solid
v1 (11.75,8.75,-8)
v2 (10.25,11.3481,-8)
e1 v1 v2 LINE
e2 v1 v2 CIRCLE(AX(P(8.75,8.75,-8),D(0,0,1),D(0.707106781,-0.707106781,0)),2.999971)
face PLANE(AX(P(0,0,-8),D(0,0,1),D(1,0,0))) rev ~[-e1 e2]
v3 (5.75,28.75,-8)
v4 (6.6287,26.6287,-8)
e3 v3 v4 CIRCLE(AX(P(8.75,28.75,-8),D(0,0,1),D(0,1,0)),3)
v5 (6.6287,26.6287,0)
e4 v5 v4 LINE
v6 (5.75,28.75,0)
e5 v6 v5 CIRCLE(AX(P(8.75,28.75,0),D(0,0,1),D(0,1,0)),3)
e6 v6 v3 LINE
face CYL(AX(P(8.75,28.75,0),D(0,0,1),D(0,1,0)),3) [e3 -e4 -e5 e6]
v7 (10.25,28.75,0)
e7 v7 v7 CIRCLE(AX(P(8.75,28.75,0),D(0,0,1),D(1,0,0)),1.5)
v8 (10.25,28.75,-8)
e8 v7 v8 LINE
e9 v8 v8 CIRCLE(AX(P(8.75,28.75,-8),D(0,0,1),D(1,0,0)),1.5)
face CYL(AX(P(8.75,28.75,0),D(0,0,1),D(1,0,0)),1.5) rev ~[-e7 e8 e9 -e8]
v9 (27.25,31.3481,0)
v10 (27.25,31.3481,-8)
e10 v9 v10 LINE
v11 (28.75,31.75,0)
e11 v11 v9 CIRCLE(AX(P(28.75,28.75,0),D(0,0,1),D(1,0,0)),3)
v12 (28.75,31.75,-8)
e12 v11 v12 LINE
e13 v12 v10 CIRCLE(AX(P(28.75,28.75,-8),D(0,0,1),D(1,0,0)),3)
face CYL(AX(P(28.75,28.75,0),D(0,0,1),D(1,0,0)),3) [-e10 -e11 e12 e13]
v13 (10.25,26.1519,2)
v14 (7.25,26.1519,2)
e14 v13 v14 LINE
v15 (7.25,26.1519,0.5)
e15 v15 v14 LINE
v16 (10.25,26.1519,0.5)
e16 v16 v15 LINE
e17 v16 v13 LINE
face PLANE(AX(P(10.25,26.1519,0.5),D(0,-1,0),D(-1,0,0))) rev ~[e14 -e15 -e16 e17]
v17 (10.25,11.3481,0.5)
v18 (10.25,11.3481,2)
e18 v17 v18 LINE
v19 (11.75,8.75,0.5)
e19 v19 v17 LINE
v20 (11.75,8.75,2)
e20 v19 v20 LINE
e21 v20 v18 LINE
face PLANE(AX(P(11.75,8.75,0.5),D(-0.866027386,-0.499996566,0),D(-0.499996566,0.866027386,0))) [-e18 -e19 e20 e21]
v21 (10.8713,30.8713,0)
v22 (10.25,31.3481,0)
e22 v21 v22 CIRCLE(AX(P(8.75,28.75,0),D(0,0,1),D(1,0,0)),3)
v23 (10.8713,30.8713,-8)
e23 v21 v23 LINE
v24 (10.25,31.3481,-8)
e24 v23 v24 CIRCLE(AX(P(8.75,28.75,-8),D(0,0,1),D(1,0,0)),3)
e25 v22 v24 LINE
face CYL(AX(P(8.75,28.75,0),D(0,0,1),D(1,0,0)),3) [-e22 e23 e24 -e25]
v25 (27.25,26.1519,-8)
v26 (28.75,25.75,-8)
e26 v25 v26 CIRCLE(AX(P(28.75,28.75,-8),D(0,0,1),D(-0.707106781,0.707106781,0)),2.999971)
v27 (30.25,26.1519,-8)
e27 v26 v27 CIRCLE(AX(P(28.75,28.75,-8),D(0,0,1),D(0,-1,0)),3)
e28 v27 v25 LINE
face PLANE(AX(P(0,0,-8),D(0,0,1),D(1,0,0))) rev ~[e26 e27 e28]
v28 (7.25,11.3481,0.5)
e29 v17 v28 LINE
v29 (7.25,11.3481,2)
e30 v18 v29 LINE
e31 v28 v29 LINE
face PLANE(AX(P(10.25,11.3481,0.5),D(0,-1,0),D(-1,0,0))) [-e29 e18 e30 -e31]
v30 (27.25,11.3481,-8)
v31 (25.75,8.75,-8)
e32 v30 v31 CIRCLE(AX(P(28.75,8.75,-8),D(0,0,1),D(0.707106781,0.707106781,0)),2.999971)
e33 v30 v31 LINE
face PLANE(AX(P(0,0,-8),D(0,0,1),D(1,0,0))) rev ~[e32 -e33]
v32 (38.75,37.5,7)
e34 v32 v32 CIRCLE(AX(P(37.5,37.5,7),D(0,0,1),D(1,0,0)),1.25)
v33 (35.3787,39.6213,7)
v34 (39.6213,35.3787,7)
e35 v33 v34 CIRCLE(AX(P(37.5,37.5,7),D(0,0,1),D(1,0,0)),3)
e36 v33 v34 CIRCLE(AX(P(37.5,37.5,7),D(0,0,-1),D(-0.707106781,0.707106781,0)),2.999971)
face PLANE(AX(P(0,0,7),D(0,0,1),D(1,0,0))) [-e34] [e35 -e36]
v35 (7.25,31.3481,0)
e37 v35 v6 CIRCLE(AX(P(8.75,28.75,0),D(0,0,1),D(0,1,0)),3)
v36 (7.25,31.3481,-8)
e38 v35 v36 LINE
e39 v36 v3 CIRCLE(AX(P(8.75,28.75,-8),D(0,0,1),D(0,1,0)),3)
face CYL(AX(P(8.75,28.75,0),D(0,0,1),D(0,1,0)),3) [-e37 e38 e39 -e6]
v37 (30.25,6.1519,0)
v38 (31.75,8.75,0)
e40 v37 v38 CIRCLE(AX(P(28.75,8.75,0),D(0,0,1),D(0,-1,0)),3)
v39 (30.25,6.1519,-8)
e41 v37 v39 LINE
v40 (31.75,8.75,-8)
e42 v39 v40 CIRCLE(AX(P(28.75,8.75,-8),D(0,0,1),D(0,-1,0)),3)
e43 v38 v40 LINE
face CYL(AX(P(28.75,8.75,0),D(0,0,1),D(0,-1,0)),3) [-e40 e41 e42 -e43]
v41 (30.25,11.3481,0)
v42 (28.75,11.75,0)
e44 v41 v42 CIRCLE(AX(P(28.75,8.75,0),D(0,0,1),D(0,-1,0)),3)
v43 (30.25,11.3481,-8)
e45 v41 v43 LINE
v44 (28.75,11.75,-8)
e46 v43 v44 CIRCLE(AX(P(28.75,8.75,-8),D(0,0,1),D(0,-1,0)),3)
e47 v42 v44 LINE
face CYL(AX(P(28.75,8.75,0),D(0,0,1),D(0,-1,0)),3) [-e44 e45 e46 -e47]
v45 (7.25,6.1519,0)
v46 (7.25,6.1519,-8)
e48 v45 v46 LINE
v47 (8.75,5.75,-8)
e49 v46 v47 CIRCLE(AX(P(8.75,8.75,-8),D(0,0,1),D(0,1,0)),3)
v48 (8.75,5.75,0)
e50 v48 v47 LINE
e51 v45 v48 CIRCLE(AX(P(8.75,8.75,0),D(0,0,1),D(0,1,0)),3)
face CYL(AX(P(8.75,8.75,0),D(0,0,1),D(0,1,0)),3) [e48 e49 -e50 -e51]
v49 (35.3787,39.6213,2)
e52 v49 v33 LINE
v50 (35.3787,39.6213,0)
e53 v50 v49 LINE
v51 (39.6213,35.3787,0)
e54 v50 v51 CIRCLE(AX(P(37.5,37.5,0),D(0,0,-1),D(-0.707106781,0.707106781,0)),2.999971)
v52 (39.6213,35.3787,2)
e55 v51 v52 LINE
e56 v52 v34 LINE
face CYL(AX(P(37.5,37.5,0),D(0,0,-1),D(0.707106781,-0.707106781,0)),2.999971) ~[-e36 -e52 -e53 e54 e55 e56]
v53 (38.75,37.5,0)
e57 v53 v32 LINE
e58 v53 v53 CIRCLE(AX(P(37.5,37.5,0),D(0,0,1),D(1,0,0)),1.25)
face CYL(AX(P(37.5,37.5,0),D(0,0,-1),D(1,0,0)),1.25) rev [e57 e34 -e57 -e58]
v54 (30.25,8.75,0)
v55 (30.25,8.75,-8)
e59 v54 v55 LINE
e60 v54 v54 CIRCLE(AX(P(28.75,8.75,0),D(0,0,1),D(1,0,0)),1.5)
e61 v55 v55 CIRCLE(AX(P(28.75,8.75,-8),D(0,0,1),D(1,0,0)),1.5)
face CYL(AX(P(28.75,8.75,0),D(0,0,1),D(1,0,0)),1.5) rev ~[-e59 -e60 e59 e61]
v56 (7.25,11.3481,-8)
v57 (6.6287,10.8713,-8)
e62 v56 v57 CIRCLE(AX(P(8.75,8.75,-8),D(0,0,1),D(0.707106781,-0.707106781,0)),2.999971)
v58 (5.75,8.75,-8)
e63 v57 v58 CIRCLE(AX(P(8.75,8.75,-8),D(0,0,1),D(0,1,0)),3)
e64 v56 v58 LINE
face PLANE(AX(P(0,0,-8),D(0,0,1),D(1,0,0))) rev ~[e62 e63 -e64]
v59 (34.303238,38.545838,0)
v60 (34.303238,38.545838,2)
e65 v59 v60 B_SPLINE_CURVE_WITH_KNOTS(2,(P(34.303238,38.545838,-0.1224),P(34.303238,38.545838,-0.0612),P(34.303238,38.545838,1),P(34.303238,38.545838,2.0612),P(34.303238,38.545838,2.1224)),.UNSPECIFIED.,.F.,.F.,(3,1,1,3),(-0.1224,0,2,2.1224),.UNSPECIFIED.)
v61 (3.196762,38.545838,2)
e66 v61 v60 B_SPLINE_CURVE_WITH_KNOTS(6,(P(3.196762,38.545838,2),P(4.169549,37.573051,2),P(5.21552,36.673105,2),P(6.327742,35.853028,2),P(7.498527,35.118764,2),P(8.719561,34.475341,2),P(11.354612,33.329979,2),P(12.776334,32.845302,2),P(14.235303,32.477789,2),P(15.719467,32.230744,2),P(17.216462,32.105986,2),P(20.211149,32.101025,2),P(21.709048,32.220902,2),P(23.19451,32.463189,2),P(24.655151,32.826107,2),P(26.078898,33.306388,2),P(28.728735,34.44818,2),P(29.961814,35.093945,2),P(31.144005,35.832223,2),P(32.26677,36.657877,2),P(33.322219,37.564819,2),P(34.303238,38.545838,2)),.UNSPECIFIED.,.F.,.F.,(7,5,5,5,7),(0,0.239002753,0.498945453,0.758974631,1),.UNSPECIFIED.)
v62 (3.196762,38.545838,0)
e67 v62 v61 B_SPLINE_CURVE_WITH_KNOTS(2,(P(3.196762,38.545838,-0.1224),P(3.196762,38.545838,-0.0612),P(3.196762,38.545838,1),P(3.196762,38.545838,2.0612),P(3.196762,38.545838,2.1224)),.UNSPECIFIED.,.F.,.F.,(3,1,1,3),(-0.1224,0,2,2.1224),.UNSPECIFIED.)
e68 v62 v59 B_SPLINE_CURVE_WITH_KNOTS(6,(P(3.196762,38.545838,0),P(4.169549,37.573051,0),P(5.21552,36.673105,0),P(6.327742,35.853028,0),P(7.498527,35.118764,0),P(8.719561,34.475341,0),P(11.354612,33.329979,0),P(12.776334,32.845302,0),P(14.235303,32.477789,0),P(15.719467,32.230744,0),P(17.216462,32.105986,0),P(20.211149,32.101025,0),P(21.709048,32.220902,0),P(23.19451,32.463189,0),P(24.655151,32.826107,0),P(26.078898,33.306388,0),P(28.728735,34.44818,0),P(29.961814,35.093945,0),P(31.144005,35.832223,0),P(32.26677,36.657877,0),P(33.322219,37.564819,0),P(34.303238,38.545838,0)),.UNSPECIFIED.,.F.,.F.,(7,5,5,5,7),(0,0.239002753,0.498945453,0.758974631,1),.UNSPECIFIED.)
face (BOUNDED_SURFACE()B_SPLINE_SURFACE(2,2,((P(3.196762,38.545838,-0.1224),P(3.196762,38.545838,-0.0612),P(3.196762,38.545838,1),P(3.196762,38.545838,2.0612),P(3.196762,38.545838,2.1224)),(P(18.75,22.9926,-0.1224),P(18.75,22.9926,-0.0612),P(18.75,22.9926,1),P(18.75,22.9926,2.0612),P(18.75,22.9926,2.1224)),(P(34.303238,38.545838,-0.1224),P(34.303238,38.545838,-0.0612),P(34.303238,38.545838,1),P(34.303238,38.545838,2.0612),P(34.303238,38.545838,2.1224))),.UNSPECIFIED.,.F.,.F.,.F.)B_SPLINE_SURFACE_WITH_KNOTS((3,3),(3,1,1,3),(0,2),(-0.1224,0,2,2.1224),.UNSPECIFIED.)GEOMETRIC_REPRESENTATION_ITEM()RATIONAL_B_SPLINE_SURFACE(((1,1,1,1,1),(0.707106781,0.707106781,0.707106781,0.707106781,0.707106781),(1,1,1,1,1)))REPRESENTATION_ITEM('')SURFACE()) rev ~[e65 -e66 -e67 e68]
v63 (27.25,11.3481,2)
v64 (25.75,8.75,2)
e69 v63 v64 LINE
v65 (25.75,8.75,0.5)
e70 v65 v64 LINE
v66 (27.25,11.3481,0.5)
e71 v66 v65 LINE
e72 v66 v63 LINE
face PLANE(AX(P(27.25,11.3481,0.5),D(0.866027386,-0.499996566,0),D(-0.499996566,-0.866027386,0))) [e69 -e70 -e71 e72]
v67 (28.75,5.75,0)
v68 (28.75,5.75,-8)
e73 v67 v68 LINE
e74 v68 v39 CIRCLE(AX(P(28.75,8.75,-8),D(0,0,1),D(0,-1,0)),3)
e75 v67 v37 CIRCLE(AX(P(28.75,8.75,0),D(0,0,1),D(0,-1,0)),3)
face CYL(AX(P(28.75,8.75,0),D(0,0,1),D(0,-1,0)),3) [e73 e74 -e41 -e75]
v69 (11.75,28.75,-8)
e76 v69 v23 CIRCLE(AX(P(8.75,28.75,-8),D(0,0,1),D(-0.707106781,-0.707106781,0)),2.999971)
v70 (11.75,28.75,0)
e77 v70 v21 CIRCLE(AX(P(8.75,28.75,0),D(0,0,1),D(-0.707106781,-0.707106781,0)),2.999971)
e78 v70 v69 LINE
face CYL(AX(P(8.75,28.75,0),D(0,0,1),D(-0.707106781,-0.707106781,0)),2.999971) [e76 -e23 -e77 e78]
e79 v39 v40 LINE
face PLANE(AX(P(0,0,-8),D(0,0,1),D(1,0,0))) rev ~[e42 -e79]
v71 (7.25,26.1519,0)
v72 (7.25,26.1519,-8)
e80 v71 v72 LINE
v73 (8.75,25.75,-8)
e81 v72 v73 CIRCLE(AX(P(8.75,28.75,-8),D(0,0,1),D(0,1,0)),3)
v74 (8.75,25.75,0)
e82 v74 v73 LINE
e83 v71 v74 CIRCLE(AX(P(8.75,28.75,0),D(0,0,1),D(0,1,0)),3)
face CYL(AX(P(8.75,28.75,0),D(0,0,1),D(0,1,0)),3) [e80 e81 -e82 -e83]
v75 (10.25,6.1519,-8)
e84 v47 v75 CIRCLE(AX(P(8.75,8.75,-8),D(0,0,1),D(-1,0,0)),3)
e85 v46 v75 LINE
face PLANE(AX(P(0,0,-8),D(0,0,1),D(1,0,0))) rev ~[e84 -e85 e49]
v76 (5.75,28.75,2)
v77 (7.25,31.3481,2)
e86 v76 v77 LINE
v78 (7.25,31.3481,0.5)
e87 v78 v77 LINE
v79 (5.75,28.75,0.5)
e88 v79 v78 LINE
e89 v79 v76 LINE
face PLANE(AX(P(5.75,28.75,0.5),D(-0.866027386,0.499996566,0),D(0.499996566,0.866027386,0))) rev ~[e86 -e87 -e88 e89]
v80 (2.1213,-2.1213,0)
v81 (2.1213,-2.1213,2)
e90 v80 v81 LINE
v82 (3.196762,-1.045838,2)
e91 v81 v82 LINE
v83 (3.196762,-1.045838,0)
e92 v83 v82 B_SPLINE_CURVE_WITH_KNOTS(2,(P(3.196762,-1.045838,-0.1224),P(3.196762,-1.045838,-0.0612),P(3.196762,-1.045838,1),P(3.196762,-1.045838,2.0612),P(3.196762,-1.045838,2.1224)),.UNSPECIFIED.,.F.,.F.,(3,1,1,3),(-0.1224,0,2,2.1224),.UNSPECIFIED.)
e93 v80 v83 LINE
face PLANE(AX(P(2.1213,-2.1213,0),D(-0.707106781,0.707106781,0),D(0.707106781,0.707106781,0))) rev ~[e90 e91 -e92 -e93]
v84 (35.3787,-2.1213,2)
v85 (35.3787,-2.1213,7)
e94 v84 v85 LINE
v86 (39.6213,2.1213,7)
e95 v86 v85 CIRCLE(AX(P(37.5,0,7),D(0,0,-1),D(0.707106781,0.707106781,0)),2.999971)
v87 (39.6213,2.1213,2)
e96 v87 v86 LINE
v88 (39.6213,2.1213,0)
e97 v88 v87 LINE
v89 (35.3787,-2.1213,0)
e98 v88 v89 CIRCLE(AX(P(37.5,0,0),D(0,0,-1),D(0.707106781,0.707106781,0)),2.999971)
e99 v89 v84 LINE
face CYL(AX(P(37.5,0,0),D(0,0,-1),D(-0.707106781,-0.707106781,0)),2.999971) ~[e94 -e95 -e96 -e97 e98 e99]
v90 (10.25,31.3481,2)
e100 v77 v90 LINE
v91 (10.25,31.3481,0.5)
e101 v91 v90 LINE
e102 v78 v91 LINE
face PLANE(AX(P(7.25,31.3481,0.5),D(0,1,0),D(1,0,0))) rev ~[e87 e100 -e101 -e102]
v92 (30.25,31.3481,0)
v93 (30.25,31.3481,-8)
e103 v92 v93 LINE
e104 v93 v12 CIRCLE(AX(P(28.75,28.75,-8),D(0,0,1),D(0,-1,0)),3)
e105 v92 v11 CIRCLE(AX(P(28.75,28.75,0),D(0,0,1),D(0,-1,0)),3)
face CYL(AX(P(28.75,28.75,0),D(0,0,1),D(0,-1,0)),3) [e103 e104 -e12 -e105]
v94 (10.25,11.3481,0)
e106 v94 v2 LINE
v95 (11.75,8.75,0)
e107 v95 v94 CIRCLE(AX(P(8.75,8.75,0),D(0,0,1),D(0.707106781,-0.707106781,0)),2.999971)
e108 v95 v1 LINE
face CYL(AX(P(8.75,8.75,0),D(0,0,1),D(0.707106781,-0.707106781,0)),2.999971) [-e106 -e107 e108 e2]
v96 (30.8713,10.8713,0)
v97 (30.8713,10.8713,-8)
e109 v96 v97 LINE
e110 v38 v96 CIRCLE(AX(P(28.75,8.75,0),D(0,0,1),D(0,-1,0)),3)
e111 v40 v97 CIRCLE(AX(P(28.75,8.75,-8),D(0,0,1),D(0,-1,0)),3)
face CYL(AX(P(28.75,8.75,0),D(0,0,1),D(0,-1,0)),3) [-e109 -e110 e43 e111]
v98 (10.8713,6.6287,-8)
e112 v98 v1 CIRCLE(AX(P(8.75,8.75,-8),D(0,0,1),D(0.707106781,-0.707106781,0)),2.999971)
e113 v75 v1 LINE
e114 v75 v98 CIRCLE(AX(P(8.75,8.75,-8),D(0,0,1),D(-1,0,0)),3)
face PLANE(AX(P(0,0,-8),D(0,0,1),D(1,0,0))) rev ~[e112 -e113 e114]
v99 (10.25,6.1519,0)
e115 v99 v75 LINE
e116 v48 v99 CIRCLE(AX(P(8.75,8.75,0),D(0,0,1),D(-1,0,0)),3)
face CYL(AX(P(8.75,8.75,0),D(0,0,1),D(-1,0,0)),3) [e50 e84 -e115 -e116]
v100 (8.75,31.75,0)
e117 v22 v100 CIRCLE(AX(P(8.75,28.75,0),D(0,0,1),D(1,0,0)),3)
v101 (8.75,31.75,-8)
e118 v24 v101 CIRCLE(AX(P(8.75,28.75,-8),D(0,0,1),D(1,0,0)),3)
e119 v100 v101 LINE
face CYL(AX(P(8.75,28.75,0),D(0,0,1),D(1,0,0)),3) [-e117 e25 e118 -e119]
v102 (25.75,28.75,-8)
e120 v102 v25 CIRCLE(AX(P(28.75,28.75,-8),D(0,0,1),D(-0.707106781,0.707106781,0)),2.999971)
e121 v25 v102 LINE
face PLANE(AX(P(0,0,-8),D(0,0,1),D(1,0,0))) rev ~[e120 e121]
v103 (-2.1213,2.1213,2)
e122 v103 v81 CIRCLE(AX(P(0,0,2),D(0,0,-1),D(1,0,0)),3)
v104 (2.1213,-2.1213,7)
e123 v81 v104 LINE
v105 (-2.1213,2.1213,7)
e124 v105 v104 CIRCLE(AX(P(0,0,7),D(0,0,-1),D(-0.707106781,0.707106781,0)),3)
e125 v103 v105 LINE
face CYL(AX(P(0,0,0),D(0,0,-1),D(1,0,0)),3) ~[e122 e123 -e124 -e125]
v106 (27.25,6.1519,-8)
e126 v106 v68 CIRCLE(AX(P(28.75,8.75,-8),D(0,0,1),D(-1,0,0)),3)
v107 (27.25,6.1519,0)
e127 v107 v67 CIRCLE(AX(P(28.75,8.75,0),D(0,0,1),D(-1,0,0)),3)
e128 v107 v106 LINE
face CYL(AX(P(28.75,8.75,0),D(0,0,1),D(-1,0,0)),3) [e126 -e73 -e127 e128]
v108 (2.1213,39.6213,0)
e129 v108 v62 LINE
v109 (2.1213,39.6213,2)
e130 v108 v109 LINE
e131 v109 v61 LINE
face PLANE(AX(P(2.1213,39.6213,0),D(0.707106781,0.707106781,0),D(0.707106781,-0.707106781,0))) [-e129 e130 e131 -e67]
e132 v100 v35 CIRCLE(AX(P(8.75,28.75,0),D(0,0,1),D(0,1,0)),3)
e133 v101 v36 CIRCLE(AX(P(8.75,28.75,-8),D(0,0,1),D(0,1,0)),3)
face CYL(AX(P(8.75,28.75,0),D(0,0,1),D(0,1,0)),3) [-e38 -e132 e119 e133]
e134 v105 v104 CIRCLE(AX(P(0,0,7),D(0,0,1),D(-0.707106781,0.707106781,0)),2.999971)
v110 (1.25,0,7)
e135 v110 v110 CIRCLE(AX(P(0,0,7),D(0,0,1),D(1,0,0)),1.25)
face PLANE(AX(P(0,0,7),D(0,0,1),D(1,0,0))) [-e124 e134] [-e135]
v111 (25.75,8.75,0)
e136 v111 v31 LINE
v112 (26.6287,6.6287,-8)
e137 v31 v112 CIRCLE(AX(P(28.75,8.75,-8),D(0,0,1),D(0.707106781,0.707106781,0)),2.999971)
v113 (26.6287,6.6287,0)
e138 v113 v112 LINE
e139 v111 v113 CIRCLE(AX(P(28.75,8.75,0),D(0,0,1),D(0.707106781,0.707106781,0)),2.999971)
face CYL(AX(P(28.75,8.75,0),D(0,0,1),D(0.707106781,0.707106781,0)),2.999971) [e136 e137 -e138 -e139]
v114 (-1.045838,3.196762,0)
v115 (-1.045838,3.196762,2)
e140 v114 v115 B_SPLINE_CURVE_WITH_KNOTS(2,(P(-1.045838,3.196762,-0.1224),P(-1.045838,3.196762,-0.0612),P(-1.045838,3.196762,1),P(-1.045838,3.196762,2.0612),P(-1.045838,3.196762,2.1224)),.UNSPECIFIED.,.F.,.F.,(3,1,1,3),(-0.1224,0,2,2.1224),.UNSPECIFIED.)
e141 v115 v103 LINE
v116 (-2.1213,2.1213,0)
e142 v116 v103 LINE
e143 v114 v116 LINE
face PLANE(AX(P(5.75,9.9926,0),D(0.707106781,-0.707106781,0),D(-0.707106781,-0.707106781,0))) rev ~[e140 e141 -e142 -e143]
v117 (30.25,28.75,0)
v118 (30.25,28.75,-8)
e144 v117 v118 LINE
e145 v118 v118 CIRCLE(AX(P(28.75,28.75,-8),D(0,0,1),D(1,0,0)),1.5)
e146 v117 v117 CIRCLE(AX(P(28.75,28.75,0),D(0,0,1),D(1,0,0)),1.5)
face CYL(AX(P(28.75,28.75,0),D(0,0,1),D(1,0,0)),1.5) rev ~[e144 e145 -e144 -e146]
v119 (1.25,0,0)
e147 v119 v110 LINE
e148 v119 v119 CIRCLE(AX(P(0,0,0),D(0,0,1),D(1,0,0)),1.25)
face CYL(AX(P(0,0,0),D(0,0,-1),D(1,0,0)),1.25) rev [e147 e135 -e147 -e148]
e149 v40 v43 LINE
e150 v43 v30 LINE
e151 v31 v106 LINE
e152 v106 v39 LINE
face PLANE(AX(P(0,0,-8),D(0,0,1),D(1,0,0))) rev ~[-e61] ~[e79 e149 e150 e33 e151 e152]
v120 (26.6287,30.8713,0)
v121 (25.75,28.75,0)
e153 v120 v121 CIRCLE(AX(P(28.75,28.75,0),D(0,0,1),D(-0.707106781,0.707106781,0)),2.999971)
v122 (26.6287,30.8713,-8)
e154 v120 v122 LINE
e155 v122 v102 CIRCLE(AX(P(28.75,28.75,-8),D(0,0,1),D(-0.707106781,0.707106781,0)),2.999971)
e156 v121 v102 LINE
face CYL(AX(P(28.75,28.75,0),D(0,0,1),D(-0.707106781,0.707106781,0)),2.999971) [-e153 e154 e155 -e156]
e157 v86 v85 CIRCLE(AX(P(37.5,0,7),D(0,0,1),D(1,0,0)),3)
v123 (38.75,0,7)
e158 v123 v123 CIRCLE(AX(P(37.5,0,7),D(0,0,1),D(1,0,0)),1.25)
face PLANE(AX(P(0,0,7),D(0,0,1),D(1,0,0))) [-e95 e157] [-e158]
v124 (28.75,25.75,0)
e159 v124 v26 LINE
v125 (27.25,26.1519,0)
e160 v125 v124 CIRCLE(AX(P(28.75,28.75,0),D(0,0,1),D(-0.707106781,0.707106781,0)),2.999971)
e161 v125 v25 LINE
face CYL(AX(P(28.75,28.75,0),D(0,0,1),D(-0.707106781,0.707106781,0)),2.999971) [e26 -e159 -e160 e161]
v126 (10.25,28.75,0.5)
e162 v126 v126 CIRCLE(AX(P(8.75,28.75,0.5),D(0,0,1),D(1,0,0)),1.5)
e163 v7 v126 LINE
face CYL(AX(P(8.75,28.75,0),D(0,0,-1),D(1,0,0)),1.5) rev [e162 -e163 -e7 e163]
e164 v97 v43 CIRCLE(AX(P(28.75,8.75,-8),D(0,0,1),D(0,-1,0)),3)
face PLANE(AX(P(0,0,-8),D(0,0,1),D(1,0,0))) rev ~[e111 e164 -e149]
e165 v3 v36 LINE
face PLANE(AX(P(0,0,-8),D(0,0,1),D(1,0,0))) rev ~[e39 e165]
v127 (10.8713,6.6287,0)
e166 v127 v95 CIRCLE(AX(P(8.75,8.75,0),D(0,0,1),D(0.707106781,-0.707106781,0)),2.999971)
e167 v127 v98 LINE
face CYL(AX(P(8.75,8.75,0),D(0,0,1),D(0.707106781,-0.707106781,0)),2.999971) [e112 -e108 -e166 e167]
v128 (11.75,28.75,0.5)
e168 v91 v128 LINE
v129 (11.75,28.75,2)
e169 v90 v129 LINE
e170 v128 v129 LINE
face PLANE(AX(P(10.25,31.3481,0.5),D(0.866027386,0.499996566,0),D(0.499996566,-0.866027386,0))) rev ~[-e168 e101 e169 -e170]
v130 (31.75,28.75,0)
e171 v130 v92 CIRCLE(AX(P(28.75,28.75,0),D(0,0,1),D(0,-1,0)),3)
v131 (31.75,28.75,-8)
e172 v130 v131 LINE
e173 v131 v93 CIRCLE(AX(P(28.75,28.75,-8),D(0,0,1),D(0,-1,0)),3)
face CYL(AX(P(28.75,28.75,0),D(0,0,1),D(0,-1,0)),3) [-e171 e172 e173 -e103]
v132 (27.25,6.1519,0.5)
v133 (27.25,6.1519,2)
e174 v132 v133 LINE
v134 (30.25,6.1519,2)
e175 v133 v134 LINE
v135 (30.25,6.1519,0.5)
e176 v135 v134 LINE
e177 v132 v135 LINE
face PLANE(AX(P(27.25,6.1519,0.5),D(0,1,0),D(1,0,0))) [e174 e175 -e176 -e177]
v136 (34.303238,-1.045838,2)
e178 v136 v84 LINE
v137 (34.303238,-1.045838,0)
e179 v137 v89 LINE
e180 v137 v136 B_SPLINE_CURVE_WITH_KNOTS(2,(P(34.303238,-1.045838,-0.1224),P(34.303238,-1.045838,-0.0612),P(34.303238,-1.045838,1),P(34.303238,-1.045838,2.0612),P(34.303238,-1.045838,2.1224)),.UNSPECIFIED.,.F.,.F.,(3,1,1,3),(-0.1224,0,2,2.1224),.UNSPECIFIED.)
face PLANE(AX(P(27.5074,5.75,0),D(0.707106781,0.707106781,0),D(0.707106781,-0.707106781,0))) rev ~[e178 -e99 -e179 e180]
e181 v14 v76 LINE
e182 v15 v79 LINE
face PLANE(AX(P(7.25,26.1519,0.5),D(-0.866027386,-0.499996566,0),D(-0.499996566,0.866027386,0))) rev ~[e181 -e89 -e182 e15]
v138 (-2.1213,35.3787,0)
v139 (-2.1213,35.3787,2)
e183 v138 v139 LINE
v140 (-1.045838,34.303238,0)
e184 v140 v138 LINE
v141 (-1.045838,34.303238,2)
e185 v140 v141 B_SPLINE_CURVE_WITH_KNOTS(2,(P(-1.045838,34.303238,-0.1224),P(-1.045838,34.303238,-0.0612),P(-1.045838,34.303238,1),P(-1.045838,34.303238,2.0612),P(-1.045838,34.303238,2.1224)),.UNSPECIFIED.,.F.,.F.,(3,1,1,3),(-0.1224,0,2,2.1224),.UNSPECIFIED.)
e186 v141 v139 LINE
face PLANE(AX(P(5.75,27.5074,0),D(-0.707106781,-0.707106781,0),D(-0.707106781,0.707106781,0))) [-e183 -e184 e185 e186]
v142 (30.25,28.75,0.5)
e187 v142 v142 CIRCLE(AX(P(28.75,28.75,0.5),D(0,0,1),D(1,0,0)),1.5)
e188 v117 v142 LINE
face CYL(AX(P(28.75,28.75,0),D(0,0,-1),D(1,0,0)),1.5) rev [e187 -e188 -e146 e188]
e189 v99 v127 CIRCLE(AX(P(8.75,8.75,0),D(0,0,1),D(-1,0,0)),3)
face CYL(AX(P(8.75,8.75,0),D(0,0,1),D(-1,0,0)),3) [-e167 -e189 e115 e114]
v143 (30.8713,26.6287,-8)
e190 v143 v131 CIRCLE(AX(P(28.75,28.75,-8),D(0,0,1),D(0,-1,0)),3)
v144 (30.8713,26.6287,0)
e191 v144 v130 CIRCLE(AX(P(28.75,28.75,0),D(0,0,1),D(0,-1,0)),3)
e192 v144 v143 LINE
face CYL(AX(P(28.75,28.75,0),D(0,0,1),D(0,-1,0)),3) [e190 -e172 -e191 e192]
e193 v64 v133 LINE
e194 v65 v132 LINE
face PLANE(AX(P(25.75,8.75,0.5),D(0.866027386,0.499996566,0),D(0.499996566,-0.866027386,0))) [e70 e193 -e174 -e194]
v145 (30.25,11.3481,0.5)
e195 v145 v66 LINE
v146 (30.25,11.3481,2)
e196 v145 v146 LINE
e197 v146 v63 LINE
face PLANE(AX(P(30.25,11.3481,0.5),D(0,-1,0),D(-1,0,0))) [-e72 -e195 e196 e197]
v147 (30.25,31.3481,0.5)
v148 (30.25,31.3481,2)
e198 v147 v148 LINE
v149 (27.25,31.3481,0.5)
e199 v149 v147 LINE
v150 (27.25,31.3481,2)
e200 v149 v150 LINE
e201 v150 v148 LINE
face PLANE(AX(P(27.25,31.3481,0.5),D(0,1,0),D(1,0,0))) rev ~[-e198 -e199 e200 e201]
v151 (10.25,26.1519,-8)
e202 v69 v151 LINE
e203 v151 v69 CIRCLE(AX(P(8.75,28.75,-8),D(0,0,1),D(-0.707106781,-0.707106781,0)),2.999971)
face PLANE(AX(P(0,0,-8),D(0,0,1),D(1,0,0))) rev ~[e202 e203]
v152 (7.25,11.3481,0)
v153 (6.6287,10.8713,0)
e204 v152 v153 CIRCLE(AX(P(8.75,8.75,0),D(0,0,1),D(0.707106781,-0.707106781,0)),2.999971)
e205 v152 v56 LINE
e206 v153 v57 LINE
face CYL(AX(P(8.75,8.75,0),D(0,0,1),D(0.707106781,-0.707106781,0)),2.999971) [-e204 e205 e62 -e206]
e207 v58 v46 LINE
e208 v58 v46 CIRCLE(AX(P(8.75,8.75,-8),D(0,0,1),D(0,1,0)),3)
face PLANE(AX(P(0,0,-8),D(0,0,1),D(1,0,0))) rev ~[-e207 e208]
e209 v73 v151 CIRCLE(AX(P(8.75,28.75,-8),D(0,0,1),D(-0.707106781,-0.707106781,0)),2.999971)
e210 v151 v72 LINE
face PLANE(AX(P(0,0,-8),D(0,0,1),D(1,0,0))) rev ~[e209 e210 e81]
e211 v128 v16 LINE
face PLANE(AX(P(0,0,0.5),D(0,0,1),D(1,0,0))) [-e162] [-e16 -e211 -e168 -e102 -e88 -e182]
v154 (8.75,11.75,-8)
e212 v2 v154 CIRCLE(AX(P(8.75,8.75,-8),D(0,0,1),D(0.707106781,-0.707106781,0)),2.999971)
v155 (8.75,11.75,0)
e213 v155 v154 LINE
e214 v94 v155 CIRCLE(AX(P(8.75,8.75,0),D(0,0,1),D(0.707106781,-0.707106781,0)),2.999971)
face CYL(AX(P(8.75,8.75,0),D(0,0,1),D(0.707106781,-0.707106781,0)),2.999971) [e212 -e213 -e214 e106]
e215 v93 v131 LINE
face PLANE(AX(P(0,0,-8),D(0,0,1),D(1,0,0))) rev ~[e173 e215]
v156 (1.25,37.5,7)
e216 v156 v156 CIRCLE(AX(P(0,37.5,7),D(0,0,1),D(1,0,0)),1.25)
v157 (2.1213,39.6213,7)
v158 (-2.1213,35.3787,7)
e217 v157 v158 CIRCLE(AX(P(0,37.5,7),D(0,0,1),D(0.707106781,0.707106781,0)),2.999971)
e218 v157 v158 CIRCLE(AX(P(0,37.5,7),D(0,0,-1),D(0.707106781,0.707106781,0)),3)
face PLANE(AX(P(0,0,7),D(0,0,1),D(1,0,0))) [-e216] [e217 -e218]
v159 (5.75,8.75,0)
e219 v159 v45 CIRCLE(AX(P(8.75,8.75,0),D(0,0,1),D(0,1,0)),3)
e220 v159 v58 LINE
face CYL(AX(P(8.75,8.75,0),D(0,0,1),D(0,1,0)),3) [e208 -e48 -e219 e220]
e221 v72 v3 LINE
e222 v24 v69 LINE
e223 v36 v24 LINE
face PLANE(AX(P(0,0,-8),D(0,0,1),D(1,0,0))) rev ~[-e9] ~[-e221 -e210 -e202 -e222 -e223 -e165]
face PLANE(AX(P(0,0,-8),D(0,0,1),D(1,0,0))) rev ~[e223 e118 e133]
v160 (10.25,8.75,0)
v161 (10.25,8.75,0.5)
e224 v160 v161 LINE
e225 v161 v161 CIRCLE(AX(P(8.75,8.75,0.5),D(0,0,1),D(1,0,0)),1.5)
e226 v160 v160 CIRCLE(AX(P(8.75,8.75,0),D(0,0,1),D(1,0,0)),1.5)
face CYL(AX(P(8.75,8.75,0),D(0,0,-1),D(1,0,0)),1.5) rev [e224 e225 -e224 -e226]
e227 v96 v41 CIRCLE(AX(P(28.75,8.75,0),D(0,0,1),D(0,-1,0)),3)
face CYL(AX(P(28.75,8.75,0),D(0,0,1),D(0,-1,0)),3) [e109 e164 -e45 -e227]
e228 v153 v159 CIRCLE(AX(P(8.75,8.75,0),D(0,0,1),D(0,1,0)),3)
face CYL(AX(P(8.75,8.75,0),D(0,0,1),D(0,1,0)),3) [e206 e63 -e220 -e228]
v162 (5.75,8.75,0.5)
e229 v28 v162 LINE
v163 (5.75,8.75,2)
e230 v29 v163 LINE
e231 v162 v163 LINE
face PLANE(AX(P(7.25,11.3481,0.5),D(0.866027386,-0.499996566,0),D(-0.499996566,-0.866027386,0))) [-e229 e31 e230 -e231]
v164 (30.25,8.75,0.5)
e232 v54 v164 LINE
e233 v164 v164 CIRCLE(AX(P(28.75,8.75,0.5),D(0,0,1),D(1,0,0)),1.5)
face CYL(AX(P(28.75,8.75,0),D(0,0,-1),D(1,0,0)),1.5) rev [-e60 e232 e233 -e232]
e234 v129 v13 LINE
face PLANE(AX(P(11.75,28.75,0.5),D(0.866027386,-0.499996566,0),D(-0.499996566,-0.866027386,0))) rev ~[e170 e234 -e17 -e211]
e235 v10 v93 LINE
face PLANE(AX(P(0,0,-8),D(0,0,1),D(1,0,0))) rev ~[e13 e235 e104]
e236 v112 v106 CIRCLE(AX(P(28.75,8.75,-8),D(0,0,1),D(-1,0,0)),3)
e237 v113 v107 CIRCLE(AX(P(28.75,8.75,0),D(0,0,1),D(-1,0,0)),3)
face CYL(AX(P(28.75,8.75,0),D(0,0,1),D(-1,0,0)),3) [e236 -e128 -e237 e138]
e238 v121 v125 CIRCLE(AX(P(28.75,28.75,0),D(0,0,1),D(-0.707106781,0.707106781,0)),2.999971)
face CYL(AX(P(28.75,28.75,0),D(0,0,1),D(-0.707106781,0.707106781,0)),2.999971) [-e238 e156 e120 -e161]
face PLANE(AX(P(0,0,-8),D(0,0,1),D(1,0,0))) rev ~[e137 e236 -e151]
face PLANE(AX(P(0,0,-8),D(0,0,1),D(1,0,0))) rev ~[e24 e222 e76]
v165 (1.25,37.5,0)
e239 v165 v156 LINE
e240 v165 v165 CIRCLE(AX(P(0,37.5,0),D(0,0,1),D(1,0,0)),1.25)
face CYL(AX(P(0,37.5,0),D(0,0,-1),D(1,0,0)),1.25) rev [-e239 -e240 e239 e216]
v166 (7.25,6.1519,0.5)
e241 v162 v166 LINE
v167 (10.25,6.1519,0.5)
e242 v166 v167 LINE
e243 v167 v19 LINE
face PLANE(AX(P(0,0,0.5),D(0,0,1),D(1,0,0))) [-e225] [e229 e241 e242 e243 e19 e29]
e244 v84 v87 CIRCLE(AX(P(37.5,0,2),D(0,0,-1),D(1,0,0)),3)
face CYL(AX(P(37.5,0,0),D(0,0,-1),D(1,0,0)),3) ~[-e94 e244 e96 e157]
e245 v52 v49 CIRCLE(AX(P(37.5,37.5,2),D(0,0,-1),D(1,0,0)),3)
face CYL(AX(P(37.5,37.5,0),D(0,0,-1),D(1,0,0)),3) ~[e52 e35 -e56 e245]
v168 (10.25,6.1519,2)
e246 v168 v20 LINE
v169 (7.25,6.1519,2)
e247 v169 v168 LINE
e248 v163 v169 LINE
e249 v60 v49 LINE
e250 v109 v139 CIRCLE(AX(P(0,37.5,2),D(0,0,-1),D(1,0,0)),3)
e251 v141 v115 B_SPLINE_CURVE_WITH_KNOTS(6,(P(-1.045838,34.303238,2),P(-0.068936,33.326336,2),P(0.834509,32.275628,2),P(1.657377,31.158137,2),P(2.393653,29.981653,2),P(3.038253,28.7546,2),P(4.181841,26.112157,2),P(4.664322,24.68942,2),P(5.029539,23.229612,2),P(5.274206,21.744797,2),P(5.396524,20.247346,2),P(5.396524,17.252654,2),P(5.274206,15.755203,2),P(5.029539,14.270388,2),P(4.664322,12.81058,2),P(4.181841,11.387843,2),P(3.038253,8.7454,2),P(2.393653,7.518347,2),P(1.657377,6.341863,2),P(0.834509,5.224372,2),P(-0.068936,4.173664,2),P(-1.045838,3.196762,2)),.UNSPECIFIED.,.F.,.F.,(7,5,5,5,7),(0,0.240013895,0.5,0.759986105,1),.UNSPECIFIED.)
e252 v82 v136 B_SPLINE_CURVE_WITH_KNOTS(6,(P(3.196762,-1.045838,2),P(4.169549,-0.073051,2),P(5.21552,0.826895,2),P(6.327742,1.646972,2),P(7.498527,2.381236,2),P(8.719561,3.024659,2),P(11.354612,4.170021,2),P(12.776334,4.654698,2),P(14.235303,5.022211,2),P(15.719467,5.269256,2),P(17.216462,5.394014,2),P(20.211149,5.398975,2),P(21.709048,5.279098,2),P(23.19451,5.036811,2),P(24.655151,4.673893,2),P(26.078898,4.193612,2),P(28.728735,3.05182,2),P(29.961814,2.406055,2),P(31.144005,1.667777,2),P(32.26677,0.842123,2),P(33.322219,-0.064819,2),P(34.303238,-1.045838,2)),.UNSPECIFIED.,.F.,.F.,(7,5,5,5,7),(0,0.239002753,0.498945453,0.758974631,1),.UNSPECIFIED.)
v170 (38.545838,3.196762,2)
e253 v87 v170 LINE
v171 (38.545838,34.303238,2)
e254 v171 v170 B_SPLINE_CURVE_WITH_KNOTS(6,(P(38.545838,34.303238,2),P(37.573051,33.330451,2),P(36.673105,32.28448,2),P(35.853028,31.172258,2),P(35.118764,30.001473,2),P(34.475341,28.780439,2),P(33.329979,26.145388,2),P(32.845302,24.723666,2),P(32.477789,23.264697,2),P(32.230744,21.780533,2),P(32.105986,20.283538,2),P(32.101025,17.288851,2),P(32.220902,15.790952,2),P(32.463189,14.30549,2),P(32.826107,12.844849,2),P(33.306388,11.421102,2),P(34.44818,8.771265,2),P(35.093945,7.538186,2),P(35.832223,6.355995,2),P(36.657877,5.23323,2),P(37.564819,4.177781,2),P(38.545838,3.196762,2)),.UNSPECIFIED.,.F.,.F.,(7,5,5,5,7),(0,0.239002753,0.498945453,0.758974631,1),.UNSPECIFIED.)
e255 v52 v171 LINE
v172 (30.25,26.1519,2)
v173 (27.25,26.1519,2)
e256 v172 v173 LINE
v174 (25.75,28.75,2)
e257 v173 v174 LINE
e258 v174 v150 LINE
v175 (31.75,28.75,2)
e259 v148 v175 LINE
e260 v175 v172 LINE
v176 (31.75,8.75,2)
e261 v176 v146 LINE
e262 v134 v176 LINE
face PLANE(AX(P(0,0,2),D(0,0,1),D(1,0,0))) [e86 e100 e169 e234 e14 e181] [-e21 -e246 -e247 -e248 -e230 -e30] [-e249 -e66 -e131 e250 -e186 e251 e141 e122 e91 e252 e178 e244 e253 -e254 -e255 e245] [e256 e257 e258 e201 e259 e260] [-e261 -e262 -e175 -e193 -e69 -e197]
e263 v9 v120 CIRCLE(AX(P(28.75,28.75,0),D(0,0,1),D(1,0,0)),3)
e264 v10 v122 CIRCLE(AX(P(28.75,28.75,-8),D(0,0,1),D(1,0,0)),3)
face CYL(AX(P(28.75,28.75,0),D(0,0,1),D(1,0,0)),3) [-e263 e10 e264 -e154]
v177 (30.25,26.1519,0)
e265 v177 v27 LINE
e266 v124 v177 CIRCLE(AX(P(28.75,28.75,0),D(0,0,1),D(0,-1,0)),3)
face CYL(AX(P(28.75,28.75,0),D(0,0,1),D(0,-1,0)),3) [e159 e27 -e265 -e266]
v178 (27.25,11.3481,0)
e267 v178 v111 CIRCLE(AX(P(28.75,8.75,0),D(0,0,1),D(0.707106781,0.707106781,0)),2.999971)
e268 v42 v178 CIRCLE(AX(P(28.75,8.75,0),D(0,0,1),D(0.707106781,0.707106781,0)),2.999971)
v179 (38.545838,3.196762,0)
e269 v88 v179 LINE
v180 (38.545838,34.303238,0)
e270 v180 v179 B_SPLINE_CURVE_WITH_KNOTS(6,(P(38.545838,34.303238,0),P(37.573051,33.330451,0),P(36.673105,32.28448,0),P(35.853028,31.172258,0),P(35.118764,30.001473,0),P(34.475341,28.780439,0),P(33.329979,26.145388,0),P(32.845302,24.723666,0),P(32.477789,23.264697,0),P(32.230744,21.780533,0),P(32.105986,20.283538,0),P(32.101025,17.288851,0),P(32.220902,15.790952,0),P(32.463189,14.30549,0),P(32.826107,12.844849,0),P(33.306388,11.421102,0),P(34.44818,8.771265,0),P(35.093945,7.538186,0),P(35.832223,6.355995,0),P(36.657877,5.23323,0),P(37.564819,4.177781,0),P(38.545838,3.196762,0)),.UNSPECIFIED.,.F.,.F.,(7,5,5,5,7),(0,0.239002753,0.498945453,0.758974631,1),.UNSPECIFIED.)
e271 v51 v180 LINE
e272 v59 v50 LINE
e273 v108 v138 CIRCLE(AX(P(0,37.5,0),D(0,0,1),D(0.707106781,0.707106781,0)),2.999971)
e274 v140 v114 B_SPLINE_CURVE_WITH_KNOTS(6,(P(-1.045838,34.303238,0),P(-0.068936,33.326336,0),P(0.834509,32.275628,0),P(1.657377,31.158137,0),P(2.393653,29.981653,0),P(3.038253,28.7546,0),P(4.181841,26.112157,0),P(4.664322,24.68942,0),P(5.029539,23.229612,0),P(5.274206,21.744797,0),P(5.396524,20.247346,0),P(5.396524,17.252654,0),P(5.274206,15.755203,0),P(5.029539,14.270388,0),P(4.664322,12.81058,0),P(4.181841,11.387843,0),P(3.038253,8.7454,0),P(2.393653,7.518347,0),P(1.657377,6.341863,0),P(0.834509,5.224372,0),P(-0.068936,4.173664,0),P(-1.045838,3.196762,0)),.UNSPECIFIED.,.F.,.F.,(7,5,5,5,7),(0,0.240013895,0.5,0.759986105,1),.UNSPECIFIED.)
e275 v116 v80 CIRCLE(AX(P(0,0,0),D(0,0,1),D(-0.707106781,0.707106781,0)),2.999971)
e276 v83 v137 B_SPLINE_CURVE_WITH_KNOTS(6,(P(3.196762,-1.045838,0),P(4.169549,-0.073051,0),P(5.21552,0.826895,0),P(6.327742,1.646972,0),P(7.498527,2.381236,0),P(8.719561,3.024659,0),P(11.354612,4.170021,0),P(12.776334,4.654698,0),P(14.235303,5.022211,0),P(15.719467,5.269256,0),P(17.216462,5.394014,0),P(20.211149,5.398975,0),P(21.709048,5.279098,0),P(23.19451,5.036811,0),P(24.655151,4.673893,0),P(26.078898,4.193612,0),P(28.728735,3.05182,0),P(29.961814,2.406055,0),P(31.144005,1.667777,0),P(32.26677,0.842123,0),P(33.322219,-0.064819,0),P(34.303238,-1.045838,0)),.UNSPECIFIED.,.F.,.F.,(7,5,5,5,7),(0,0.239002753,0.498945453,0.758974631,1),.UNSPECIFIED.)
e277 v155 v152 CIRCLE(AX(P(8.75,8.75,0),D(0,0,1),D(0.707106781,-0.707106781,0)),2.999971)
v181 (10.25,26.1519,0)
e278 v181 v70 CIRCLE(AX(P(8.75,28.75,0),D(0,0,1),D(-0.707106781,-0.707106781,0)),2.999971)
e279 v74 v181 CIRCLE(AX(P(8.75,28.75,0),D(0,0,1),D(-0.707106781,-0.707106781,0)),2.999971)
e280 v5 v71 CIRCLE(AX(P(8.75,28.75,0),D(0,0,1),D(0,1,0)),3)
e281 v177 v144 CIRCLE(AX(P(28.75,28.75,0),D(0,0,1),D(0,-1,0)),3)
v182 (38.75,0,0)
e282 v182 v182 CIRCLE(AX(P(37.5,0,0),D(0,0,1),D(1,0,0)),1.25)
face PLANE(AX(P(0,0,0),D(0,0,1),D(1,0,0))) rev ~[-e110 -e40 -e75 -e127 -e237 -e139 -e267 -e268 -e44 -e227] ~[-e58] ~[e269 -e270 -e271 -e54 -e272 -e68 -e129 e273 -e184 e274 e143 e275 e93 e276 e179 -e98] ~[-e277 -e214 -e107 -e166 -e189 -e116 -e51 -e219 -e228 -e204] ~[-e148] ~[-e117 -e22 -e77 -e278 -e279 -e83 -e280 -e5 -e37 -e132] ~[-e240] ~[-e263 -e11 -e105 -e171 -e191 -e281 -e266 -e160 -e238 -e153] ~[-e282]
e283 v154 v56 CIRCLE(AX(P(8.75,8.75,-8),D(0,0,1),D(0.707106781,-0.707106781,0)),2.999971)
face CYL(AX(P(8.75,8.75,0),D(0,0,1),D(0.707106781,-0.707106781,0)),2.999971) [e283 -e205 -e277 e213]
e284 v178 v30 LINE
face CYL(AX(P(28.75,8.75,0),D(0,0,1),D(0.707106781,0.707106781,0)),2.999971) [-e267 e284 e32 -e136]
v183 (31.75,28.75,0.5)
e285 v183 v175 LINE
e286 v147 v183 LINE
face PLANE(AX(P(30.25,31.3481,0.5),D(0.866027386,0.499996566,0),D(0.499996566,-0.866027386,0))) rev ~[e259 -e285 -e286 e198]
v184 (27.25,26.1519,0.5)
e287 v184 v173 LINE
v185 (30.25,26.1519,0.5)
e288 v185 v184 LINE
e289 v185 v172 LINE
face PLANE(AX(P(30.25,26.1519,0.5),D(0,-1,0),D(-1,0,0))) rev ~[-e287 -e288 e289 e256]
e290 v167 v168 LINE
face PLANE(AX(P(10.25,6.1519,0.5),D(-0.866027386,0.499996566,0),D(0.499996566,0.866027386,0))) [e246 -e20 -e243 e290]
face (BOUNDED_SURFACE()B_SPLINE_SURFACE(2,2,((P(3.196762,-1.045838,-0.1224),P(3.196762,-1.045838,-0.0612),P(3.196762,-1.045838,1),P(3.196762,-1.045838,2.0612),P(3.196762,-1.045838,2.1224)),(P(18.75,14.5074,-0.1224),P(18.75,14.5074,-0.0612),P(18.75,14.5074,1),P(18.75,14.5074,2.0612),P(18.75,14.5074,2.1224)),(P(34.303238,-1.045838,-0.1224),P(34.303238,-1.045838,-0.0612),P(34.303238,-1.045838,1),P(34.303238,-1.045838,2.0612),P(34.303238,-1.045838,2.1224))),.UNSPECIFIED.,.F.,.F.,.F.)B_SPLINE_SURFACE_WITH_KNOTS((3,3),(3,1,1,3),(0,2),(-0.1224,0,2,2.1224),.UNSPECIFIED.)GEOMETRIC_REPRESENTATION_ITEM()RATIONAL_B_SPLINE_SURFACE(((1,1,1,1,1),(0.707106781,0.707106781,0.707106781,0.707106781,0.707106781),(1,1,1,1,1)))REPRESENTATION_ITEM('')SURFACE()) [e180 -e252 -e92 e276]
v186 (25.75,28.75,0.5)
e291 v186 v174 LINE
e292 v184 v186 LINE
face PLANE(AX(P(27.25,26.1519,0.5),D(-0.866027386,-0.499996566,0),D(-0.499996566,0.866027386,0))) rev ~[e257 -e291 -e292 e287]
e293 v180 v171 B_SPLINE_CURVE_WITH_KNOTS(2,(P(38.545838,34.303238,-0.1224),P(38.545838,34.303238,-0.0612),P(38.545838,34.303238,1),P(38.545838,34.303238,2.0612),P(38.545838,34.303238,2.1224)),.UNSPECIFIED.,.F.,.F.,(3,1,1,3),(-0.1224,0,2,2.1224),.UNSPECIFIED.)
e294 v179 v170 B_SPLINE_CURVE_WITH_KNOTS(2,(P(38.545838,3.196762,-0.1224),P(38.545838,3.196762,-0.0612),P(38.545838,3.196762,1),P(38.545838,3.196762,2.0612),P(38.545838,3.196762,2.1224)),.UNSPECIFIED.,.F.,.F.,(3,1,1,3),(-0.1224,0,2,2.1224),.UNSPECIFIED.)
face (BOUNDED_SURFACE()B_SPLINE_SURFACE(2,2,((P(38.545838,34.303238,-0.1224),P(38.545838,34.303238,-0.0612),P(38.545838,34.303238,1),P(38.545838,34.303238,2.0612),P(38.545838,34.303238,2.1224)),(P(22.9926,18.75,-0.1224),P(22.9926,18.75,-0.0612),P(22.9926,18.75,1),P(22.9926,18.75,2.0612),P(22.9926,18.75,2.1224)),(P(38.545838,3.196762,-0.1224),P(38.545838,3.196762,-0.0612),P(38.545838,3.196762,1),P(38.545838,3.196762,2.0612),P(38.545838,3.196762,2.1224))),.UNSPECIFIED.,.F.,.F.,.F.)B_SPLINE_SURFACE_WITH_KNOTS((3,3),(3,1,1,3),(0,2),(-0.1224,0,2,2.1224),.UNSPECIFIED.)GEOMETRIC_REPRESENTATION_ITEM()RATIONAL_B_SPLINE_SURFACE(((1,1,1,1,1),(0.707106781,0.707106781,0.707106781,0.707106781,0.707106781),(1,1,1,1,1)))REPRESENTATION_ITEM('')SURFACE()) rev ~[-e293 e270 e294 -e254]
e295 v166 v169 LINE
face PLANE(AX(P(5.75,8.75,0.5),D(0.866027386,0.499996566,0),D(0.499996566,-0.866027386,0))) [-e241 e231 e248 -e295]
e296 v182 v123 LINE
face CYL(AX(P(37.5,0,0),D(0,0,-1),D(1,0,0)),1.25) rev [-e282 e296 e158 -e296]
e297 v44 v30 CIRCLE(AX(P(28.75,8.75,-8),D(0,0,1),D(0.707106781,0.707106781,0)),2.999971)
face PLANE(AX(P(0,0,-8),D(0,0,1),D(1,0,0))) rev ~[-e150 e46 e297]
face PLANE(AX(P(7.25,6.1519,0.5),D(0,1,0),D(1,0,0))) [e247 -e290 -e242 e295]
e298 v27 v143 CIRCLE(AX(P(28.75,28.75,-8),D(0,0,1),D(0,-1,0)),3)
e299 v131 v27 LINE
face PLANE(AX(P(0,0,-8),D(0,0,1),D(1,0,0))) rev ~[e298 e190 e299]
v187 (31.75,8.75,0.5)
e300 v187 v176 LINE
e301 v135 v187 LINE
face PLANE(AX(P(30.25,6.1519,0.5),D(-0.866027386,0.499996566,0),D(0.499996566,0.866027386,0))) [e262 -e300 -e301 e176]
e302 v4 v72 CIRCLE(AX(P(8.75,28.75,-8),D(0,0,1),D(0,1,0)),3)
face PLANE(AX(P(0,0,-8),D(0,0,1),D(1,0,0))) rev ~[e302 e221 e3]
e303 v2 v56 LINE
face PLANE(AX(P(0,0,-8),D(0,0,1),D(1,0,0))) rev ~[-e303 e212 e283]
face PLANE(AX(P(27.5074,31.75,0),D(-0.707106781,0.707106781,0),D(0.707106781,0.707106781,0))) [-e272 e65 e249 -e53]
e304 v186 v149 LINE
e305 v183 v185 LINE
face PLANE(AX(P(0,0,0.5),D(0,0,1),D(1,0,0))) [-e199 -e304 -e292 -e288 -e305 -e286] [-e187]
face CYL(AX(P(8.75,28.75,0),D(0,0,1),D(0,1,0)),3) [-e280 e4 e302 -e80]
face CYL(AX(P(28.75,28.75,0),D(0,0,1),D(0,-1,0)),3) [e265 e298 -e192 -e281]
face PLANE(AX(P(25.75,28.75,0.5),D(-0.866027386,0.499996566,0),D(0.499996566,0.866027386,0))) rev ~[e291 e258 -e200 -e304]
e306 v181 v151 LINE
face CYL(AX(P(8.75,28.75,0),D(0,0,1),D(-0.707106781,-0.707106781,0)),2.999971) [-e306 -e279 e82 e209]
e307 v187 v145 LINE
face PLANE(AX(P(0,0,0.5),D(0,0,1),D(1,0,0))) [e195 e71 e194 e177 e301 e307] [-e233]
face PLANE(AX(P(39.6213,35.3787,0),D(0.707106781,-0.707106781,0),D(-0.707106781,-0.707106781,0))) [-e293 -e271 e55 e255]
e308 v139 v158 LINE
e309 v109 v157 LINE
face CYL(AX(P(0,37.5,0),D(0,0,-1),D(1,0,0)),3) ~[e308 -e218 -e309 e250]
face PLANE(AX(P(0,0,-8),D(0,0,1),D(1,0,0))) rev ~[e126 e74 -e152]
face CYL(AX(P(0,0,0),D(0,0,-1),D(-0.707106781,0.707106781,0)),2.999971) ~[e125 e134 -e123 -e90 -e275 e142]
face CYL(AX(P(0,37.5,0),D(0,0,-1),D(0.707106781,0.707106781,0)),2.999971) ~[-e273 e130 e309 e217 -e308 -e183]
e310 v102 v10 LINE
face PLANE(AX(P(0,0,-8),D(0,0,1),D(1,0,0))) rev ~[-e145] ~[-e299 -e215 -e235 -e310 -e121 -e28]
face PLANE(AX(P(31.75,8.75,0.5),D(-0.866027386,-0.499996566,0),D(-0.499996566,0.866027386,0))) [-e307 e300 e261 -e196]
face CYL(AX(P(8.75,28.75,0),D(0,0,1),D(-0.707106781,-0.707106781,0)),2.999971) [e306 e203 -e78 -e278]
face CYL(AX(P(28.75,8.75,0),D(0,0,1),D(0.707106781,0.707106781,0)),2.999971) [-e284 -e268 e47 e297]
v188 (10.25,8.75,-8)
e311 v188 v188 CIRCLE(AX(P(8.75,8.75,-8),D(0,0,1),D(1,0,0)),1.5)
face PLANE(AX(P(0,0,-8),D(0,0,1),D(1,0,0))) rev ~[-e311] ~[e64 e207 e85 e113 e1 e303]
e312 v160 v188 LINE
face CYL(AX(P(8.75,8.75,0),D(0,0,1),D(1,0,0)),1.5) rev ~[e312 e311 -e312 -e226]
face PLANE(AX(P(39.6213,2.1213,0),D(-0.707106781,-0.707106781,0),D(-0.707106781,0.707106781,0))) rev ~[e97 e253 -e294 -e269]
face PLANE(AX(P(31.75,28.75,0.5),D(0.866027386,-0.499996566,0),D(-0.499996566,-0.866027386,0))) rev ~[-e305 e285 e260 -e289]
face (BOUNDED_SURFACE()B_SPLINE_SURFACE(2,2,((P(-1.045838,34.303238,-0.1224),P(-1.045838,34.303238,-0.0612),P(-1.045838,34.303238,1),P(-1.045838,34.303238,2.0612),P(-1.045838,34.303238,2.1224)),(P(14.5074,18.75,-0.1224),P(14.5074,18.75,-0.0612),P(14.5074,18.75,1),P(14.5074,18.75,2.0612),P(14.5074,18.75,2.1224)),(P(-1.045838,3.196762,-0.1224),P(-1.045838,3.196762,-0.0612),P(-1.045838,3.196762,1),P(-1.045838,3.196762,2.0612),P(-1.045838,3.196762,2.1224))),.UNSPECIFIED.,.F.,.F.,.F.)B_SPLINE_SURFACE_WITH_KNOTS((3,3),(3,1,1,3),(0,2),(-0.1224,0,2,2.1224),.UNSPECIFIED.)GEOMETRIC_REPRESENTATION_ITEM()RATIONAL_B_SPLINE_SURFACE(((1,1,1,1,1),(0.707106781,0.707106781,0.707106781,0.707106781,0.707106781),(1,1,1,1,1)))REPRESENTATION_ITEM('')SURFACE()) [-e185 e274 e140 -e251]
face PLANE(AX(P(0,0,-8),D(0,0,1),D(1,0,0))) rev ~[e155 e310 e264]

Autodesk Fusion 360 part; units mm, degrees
sketch "Sketch1" plane through (0, 0, 0) normal (0, 0, 1) x (1, 0, 0)
  circle A0 centre (0, 0) radius 1.25
  circle A1 centre (37.5, 0) radius 1.25
  line L0 (0, 0) -> (37.5, 0) construction
  line L1 (18.75, 0) -> (18.75, 21) construction
  line L2 (0, 18.75) -> (42, 18.75) construction
  circle A2 centre (8.75, 8.75) radius 1.5
  circle A3 centre (28.75, 8.75) radius 1.5
  line L3 (6.6287, 10.8713) -> (-2.1213, 2.1213)
  arc A4 (-2.1213, 2.1213) -> (2.1213, -2.1213) centre (0, 0) ccw
  line L4 (2.1213, -2.1213) -> (10.8713, 6.6287)
  arc A5 (10.8713, 6.6287) -> (6.6287, 10.8713) centre (8.75, 8.75) ccw
  line L5 (8.75, 8.75) -> (0, 0) construction
  line L6 (8.75, 5.75) -> (28.75, 5.75)
  arc A6 (28.75, 5.75) -> (28.75, 11.75) centre (28.75, 8.75) ccw
  line L7 (28.75, 11.75) -> (8.75, 11.75)
  arc A7 (8.75, 11.75) -> (8.75, 5.75) centre (8.75, 8.75) ccw
  line L8 (8.75, 8.75) -> (28.75, 8.75) construction
  line L9 (39.6213, 2.1213) -> (30.8713, 10.8713)
  arc A8 (30.8713, 10.8713) -> (26.6287, 6.6287) centre (28.75, 8.75) ccw
  line L10 (26.6287, 6.6287) -> (35.3787, -2.1213)
  arc A9 (35.3787, -2.1213) -> (39.6213, 2.1213) centre (37.5, 0) ccw
  line L11 (37.5, 0) -> (28.75, 8.75) construction
  line L12 (11.75, 8.75) -> (10.25, 11.3481)
  line L13 (10.25, 11.3481) -> (7.25, 11.3481)
  line L14 (7.25, 11.3481) -> (5.75, 8.75)
  line L15 (5.75, 8.75) -> (7.25, 6.1519)
  line L16 (7.25, 6.1519) -> (10.25, 6.1519)
  line L17 (10.25, 6.1519) -> (11.75, 8.75)
  line L18 (25.75, 8.75) -> (27.25, 6.1519)
  line L19 (27.25, 6.1519) -> (30.25, 6.1519)
  line L20 (30.25, 6.1519) -> (31.75, 8.75)
  line L21 (31.75, 8.75) -> (30.25, 11.3481)
  line L22 (30.25, 11.3481) -> (27.25, 11.3481)
  line L23 (27.25, 11.3481) -> (25.75, 8.75)
  circle A10 centre (0, 0) radius 3
  circle A11 centre (37.5, 0) radius 3
  arc A12 (2.1213, 39.6213) -> (-2.1213, 35.3787) centre (0, 37.5) ccw
  arc A13 (28.75, 25.75) -> (28.75, 31.75) centre (28.75, 28.75) ccw
  arc A14 (26.6287, 30.8713) -> (30.8713, 26.6287) centre (28.75, 28.75) ccw
  circle A15 centre (37.5, 37.5) radius 1.25
  line L24 (30.25, 26.1519) -> (27.25, 26.1519)
  line L25 (28.75, 25.75) -> (8.75, 25.75)
  line L26 (27.25, 31.3481) -> (30.25, 31.3481)
  circle A16 centre (8.75, 28.75) radius 1.5
  line L27 (27.25, 26.1519) -> (25.75, 28.75)
  circle A17 centre (28.75, 28.75) radius 1.5
  line L28 (5.75, 28.75) -> (7.25, 31.3481)
  circle A18 centre (0, 37.5) radius 1.25
  line L29 (30.25, 31.3481) -> (31.75, 28.75)
  line L30 (10.25, 31.3481) -> (11.75, 28.75)
  line L31 (8.75, 28.75) -> (0, 37.5) construction
  circle A19 centre (0, 37.5) radius 3
  line L32 (39.6213, 35.3787) -> (30.8713, 26.6287)
  line L33 (10.25, 26.1519) -> (7.25, 26.1519)
  line L34 (7.25, 26.1519) -> (5.75, 28.75)
  line L35 (11.75, 28.75) -> (10.25, 26.1519)
  line L36 (6.6287, 26.6287) -> (-2.1213, 35.3787)
  arc A20 (8.75, 31.75) -> (8.75, 25.75) centre (8.75, 28.75) ccw
  line L37 (8.75, 28.75) -> (28.75, 28.75) construction
  arc A21 (39.6213, 35.3787) -> (35.3787, 39.6213) centre (37.5, 37.5) ccw
  circle A22 centre (37.5, 37.5) radius 3
  line L38 (7.25, 31.3481) -> (10.25, 31.3481)
  arc A23 (6.6287, 26.6287) -> (10.8713, 30.8713) centre (8.75, 28.75) ccw
  line L39 (26.6287, 30.8713) -> (35.3787, 39.6213)
  line L40 (0, 37.5) -> (37.5, 37.5) construction
  line L41 (25.75, 28.75) -> (27.25, 31.3481)
  line L42 (2.1213, 39.6213) -> (10.8713, 30.8713)
  line L43 (31.75, 28.75) -> (30.25, 26.1519)
  line L44 (8.75, 31.75) -> (28.75, 31.75)
  line L45 (37.5, 37.5) -> (28.75, 28.75) construction
  line L46 (5.75, 28.75) -> (5.75, 8.75)
  arc A24 (5.75, 8.75) -> (11.75, 8.75) centre (8.75, 8.75) ccw
  line L47 (11.75, 8.75) -> (11.75, 28.75)
  arc A25 (11.75, 28.75) -> (5.75, 28.75) centre (8.75, 28.75) ccw
  line L48 (8.75, 28.75) -> (8.75, 8.75) construction
  line L49 (25.75, 28.75) -> (25.75, 8.75)
  arc A26 (25.75, 8.75) -> (31.75, 8.75) centre (28.75, 8.75) ccw
  line L50 (31.75, 8.75) -> (31.75, 28.75)
  arc A27 (31.75, 28.75) -> (25.75, 28.75) centre (28.75, 28.75) ccw
  line L51 (28.75, 28.75) -> (28.75, 8.75) construction
  point P0 (8.75, 8.75)
  point P1 (28.75, 8.75)
  point P2 (8.75, 28.75)
  point P3 (28.75, 28.75)
  point P4 (18.75, 37.5)
  point P5 (0, 37.5)
  dimension "d7" = 2.5
  dimension "d8" = 2.5
  dimension "d9" = 37.5
  dimension "d10" = 18.75
  dimension "d11" = 3
  dimension "d12" = 3
  dimension "d13" = 10
  dimension "d14" = 10
  dimension "d15" = 10
  dimension "d16" = 10
  dimension "d17" = 6
  dimension "d18" = 6
  dimension "d19" = 6
  dimension "d20" = 6
  dimension "d21" = 6
extrude "Extrude1" add sketch "Sketch1" along normal blind 2
extrude "Extrude2" add sketch "Sketch1" along normal blind 7 contours A4 A10 | A12 A19 | A9 A11 | A21 A22
extrude "Extrude3" add sketch "Sketch1" against normal blind 8 contours A5 A7 L14 | A5 A7 L13 | L12 L13 L14 L15 L16 L17 | A7 L15 A24 | A5 L12 | A7 L16 A24 | L34 A20 A23 | L28 A20 A25 | L28 L30 L33 L34 L35 L38 | A5 L17 A24 | L33 A20 A23 | A20 L38 A25 | L35 A23 | L30 A23 A25 | A6 A8 L22 | A8 L18 A26 | L18 L19 L20 L21 L22 L23 | A8 L23 | A6 L19 A26 | A6 A8 L21 | A13 A14 L24 | A14 L27 | L24 L26 L27 L29 L41 L43 | A14 L41 A27 | A6 L20 A26 | A13 L26 A27 | A13 A14 L43 | A13 L29 A27
extrude "Extrude4" cut sketch "Sketch1" along normal blind 1.5 from surface at 0.5 contours L12 L13 L14 L15 L16 L17 | L28 L30 L33 L34 L35 L38 | L18 L19 L20 L21 L22 L23 | L24 L26 L27 L29 L41 L43
fillet "Fillet1" radius 22 8 edges at (5.75, 27.5074, 1) (5.75, 9.9926, 1) (9.9926, 31.75, 1) (27.5074, 31.75, 1) (31.75, 27.5074, 1) (31.75, 9.9926, 1) (9.9926, 5.75, 1) (27.5074, 5.75, 1)
sketch "Sketch2" plane through (0, 0, 0) normal (0, 0, 1) x (1, 0, 0)
equation "d10 = ( 37.5 / 2 ) * 1 mm"
